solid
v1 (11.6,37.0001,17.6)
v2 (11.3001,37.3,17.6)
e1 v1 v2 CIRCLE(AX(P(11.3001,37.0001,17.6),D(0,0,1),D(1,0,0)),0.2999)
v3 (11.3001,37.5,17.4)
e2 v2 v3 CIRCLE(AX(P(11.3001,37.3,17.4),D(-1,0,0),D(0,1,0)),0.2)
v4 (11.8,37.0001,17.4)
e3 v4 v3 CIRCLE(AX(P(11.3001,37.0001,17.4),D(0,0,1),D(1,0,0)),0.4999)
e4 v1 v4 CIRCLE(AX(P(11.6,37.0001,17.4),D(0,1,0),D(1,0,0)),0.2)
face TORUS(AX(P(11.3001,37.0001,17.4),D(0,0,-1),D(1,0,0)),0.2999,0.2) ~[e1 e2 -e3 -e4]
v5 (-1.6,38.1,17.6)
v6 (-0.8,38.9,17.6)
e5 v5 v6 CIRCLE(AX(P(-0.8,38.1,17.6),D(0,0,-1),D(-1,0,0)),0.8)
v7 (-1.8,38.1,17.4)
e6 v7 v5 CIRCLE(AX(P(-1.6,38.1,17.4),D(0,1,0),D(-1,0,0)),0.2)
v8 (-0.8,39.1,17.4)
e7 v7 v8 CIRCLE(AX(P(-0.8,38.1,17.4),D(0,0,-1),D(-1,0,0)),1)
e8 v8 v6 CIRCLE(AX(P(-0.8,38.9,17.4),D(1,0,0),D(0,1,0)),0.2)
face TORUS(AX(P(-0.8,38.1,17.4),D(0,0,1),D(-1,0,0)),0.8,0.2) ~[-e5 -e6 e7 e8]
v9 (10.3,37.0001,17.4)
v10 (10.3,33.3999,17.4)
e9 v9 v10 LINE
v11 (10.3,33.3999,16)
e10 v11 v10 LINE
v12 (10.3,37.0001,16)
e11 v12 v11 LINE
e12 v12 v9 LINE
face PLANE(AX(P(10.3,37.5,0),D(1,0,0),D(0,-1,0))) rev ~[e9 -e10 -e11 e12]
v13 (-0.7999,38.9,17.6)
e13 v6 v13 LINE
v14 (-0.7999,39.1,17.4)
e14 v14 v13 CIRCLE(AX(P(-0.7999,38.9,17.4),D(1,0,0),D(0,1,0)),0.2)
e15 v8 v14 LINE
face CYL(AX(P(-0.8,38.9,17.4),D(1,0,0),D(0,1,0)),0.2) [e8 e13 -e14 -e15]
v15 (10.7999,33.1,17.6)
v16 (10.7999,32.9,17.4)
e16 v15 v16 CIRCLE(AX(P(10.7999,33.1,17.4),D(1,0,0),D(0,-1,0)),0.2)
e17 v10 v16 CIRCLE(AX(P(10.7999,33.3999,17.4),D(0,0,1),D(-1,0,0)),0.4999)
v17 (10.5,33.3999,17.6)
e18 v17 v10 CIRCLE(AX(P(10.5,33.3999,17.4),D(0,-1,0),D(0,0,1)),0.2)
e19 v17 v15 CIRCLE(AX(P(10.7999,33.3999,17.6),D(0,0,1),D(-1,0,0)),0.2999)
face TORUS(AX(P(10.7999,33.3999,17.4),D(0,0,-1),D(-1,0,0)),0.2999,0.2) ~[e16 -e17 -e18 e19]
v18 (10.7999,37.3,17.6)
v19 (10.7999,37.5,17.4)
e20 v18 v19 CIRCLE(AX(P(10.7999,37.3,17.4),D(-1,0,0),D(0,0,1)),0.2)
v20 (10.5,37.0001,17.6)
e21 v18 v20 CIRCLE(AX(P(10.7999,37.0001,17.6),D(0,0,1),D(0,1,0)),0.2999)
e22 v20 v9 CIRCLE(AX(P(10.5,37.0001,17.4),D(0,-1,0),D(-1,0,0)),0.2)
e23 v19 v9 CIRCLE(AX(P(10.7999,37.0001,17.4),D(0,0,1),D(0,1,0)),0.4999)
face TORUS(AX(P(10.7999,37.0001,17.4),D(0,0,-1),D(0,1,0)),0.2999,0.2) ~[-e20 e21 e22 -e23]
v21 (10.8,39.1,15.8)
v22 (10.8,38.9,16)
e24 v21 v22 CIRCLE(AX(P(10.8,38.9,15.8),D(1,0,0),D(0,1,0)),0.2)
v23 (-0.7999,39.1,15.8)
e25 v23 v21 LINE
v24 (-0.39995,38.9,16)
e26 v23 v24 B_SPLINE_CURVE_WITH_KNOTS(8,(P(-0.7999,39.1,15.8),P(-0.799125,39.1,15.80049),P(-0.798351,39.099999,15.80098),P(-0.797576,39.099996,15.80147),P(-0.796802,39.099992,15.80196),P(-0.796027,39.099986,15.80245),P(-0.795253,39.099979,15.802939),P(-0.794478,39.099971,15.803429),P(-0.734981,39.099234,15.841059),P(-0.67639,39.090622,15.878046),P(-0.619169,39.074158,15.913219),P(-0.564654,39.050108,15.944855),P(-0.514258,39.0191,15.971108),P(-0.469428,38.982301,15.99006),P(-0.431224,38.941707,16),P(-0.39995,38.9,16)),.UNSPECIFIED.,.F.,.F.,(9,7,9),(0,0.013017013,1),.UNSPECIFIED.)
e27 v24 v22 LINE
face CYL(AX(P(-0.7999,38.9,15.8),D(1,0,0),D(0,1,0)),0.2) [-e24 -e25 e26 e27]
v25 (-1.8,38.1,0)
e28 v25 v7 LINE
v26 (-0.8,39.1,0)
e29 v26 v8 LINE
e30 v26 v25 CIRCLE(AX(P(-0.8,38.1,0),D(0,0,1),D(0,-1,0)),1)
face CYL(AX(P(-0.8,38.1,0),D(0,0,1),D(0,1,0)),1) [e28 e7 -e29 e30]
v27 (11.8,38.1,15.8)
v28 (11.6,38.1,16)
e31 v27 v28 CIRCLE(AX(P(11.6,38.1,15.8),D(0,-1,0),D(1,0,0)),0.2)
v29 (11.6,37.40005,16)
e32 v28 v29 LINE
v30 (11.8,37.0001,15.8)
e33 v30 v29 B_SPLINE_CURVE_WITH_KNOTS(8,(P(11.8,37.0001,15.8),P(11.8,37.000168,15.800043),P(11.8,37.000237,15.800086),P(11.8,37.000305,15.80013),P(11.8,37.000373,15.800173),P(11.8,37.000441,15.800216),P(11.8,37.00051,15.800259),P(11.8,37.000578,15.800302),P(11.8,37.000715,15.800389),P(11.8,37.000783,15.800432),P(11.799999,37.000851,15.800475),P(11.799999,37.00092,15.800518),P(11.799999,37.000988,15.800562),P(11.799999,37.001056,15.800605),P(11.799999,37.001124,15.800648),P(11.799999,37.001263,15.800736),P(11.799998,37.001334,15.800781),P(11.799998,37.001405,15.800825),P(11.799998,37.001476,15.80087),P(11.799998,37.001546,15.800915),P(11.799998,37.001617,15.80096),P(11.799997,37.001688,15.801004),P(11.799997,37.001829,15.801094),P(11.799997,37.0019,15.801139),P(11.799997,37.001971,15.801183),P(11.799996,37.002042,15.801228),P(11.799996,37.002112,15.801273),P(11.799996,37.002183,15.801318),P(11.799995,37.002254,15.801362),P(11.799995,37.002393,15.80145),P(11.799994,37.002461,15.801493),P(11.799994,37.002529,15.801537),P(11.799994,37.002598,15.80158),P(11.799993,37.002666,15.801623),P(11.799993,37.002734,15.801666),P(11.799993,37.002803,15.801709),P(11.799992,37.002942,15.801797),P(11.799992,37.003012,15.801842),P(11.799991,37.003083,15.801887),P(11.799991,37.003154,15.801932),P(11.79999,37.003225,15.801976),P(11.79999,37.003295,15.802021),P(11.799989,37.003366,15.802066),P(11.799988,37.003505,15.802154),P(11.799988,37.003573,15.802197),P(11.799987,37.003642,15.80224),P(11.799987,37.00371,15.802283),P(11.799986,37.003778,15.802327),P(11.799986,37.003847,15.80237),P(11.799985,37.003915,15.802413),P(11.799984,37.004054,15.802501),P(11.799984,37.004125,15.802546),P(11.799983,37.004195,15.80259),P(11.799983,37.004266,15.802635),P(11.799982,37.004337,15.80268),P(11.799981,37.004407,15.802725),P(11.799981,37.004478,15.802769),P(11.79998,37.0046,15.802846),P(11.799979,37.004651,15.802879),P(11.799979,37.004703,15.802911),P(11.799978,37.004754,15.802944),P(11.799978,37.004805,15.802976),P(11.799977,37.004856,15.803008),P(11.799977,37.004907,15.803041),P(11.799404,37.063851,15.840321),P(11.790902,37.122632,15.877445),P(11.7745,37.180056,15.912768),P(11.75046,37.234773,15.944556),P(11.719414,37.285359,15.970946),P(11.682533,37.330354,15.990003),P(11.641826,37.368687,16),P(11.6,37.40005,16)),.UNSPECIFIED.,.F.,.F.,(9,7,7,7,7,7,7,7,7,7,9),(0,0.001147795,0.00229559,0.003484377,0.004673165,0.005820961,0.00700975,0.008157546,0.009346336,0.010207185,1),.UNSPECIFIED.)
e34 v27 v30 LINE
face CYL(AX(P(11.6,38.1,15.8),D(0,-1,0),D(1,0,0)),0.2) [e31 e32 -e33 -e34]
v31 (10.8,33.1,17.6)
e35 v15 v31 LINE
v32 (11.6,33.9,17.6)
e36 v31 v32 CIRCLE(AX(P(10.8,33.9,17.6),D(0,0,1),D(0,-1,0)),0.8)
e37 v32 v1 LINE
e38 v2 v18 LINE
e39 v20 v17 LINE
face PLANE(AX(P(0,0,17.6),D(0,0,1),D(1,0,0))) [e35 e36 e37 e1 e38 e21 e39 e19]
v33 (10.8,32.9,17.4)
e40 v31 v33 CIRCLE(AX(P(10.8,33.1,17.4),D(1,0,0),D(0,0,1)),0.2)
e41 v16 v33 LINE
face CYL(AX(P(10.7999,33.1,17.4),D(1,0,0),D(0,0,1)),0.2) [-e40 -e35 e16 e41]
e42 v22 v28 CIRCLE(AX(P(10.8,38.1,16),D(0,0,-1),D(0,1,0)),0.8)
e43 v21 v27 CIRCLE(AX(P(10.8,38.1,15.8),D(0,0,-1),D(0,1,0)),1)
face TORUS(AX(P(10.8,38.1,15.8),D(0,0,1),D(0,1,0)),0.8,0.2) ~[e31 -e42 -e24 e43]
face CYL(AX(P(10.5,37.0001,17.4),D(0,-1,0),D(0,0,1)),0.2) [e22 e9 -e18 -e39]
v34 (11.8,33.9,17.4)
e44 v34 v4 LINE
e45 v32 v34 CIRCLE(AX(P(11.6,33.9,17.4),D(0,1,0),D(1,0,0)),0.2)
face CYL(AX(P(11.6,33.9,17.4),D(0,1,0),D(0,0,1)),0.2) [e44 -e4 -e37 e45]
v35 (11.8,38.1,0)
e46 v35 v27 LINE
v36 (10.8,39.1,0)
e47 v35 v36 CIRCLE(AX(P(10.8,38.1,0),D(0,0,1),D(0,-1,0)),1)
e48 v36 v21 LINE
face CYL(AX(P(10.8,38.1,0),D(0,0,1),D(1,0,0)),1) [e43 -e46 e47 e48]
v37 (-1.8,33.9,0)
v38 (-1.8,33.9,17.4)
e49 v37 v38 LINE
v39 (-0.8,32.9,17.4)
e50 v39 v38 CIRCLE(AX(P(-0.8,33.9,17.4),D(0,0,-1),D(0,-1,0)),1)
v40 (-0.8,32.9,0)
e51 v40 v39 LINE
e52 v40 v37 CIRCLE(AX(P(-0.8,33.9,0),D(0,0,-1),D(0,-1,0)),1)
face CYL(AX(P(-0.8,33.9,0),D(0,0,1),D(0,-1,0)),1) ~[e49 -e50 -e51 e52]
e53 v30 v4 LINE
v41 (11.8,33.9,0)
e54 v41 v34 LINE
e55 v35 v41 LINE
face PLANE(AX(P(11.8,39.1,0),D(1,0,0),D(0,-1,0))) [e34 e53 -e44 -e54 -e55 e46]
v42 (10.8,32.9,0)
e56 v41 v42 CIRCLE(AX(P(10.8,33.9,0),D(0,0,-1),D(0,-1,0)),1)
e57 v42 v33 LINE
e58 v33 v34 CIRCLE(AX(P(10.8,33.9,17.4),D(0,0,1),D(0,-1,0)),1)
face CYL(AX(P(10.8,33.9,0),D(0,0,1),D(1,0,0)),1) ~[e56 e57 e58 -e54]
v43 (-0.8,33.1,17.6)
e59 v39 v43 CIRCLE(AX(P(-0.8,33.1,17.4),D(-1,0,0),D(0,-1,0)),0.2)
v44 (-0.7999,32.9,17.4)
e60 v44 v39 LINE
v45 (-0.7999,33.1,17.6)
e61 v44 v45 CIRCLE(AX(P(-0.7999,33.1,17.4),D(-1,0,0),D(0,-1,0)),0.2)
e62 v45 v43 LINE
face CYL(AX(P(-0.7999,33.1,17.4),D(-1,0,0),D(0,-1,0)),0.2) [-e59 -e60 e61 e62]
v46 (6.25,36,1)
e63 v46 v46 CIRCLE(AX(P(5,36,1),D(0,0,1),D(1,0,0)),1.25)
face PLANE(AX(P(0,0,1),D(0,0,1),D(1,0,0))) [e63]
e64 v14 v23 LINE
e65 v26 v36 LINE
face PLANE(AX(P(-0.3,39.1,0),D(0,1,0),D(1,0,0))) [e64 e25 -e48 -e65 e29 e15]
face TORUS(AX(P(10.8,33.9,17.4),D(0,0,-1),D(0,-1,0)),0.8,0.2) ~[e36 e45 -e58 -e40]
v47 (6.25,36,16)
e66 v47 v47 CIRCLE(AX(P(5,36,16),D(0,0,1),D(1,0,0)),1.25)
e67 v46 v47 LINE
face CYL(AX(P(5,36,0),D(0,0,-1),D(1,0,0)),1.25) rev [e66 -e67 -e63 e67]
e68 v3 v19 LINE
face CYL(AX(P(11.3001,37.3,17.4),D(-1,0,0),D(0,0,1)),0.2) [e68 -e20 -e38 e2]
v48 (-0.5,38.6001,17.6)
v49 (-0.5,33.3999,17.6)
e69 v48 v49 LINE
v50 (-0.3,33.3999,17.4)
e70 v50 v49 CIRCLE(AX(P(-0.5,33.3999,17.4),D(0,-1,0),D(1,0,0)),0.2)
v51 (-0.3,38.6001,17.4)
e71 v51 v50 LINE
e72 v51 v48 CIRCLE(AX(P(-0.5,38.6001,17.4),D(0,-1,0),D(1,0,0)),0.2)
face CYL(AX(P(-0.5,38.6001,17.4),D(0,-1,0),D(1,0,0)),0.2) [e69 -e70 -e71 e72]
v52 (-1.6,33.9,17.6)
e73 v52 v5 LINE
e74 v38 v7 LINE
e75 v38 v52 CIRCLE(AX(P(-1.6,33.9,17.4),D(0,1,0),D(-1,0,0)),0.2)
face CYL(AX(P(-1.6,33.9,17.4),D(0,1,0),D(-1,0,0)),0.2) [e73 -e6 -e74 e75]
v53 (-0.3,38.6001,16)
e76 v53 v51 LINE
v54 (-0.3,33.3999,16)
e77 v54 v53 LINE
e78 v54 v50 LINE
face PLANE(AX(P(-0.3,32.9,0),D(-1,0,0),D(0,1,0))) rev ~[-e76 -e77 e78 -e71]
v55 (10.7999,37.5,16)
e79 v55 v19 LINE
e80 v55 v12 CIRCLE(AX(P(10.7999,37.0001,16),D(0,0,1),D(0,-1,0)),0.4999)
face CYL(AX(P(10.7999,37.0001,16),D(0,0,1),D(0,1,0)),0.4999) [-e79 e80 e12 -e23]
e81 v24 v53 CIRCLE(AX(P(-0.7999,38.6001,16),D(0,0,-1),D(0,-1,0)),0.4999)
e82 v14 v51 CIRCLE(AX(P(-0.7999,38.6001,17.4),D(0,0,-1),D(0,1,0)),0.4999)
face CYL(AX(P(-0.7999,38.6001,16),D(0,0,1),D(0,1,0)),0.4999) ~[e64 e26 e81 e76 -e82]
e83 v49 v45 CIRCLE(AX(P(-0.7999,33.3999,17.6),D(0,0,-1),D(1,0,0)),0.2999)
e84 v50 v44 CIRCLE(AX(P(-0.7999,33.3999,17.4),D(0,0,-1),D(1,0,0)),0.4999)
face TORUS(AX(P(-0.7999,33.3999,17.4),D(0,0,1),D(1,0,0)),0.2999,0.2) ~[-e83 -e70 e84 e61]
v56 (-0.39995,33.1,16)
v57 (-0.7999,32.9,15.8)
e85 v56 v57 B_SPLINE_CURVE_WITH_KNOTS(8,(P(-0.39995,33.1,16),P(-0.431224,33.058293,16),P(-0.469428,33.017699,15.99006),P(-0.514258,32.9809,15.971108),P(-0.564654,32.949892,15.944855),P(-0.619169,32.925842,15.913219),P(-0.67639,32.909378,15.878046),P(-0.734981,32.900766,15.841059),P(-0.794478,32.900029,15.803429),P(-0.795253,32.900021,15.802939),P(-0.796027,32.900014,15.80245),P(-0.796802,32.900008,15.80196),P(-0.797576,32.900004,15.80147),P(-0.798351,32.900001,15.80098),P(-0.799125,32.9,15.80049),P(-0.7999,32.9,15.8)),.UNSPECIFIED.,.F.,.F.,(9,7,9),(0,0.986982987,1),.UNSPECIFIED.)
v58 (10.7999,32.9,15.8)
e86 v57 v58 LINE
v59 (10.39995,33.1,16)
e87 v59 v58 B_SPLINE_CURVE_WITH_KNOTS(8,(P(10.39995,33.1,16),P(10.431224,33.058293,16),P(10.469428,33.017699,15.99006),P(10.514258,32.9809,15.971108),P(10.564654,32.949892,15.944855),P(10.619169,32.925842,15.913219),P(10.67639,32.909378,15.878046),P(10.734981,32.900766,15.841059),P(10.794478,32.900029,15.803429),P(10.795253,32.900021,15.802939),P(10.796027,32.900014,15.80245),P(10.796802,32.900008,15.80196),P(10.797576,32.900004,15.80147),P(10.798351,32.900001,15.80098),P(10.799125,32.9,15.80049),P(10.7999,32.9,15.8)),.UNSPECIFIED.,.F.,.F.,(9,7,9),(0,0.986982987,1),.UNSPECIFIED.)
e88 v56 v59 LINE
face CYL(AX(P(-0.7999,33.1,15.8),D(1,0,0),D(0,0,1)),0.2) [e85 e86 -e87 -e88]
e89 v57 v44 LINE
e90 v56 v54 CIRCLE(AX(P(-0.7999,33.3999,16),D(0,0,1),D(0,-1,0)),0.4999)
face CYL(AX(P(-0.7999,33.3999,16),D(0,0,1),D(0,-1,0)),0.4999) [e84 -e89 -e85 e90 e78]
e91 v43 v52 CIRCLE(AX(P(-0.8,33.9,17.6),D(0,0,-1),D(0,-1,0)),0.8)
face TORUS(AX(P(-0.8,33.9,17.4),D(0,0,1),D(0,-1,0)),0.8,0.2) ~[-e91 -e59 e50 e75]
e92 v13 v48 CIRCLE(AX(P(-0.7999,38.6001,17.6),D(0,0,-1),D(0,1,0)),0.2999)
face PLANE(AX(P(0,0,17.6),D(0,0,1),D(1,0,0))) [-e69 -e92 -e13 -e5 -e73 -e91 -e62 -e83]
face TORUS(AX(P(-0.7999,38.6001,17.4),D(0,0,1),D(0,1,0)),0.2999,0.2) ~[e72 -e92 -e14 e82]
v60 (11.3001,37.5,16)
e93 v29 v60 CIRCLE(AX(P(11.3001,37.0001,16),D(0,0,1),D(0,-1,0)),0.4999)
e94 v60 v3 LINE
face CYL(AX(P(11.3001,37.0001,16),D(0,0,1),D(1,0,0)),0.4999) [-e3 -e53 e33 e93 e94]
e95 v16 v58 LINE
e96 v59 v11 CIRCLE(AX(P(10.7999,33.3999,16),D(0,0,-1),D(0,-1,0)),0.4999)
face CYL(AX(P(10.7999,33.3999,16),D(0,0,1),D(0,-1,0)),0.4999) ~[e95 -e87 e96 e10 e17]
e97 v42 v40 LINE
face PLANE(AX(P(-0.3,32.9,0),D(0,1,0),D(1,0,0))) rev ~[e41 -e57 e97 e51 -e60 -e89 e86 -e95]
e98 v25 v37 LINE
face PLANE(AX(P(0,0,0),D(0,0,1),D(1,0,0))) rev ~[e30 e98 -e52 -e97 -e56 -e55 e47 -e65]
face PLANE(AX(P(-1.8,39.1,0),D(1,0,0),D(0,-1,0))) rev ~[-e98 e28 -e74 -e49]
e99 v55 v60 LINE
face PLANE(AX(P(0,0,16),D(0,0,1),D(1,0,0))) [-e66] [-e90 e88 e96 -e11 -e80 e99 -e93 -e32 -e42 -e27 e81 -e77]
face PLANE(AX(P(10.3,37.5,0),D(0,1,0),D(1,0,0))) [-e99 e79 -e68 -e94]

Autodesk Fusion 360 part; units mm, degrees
ref_plane "WorkPlane1" through (0, 0, 16) normal (0, 0, 1) x (1, 0, 0) in component "PCB"
sketch "U64_KB_Ada" plane through (0, 0, 16) normal (0, 0, 1) x (1, 0, 0) in component "PCB"
  line L0 (47.6716, 39.5) -> (12, 39.5)
  line L1 (71, 2) -> (71, 54)
  arc A0 (61, 26.1716) -> (60.4142, 27.5858) centre (59, 26.1716) ccw
  arc A1 (59, 49.5) -> (61, 51.5) centre (59, 51.5) ccw
  line L2 (71, 54) -> (69, 56)
  arc A2 (12, 39.5) -> (10, 37.5) centre (12, 37.5) ccw
  line L3 (61, 2) -> (63, 0)
  line L4 (0, 33) -> (0, 47.5)
  line L5 (61, 26.1716) -> (61, 2)
  line L6 (59, 49.5) -> (2, 49.5)
  line L7 (2, 49.5) -> (0, 47.5)
  line L8 (1.5, 31) -> (0, 33)
  line L9 (69, 0) -> (71, 2)
  line L10 (63, 0) -> (69, 0)
  line L11 (61, 54) -> (61, 51.5)
  line L12 (10, 33) -> (8, 31)
  line L13 (69, 56) -> (63, 56)
  line L14 (63, 56) -> (61, 54)
  line L15 (10, 37.5) -> (10, 33)
  line L16 (49.0858, 38.9142) -> (60.4142, 27.5858)
  arc A3 (49.0858, 38.9142) -> (47.6716, 39.5) centre (47.6716, 37.5) ccw
  line L17 (8, 31) -> (1.5, 31)
  line L18 (21.59, 45.135) -> (22.225, 45.77)
  line L19 (15.875, 43.23) -> (14.605, 43.23)
  line L20 (17.145, 45.77) -> (18.415, 45.77)
  line L21 (21.59, 45.135) -> (20.955, 45.77)
  line L22 (13.97, 45.135) -> (13.335, 45.77)
  line L23 (5.715, 43.23) -> (6.35, 43.865)
  line L24 (9.525, 43.23) -> (8.89, 43.865)
  line L25 (13.204, 40.1285) -> (13.5992, 41.215)
  line L26 (9.525, 45.77) -> (10.795, 45.77)
  line L27 (21.59, 43.865) -> (21.59, 45.135)
  line L28 (20.955, 43.23) -> (21.59, 43.865)
  line L29 (11.43, 43.865) -> (10.795, 43.23)
  line L30 (6.985, 45.77) -> (8.255, 45.77)
  line L31 (6.35, 43.865) -> (6.35, 45.135)
  line L32 (13.97, 43.865) -> (13.97, 45.135)
  line L33 (11.43, 45.135) -> (12.065, 45.77)
  line L34 (12.065, 43.23) -> (11.43, 43.865)
  circle A4 centre (5, 36) radius 3.1789
  circle A5 centre (5, 36) radius 1.7463
  line L35 (13.97, 45.135) -> (14.605, 45.77)
  line L36 (4.445, 43.23) -> (3.81, 43.865)
  line L37 (16.51, 43.865) -> (15.875, 43.23)
  line L38 (16.51, 43.865) -> (16.51, 45.135)
  line L39 (20.955, 43.23) -> (19.685, 43.23)
  line L40 (8.89, 45.135) -> (9.525, 45.77)
  line L41 (12.065, 45.77) -> (13.335, 45.77)
  line L42 (19.685, 45.77) -> (20.955, 45.77)
  line L43 (19.685, 43.23) -> (19.05, 43.865)
  line L44 (10.795, 43.23) -> (9.525, 43.23)
  line L45 (27.305, 43.23) -> (26.67, 43.865)
  line L46 (19.05, 43.865) -> (19.05, 45.135)
  line L47 (23.495, 45.77) -> (24.13, 45.135)
  line L48 (14.605, 45.77) -> (15.875, 45.77)
  line L49 (8.255, 43.23) -> (6.985, 43.23)
  line L50 (15.875, 45.77) -> (16.51, 45.135)
  line L51 (17.145, 43.23) -> (16.51, 43.865)
  line L52 (11.43, 43.865) -> (11.43, 45.135)
  line L53 (8.89, 43.865) -> (8.255, 43.23)
  line L54 (19.05, 45.135) -> (19.685, 45.77)
  line L55 (28.575, 43.23) -> (27.305, 43.23)
  line L56 (6.35, 45.135) -> (6.985, 45.77)
  line L57 (18.415, 45.77) -> (19.05, 45.135)
  line L58 (14.605, 43.23) -> (13.97, 43.865)
  line L59 (24.13, 43.865) -> (23.495, 43.23)
  line L60 (6.35, 45.135) -> (5.715, 45.77)
  line L61 (19.05, 43.865) -> (18.415, 43.23)
  line L62 (5.715, 43.23) -> (4.445, 43.23)
  line L63 (8.89, 43.865) -> (8.89, 45.135)
  line L64 (22.225, 43.23) -> (21.59, 43.865)
  line L65 (6.985, 43.23) -> (6.35, 43.865)
  line L66 (10.795, 45.77) -> (11.43, 45.135)
  line L67 (22.225, 45.77) -> (23.495, 45.77)
  line L68 (4.445, 45.77) -> (5.715, 45.77)
  line L69 (3.81, 45.135) -> (4.445, 45.77)
  line L70 (23.495, 43.23) -> (22.225, 43.23)
  arc A6 (15.2146, 40.6718) -> (15.0664, 40.82) centre (15.0664, 40.6718) ccw
  line L71 (8.255, 45.77) -> (8.89, 45.135)
  line L72 (13.335, 43.23) -> (12.065, 43.23)
  line L73 (13.335, 43.23) -> (13.97, 43.865)
  line L74 (14.8195, 40.2273) -> (14.8195, 40.8199)
  line L75 (16.51, 45.135) -> (17.145, 45.77)
  line L76 (13.96, 40.3754) -> (13.96, 40.6718)
  line L77 (12.628, 40.7211) -> (12.3317, 40.7211)
  line L78 (18.415, 43.23) -> (17.145, 43.23)
  line L79 (39.37, 45.135) -> (40.005, 45.77)
  line L80 (37.465, 43.23) -> (36.83, 43.865)
  line L81 (36.83, 45.135) -> (37.465, 45.77)
  line L82 (31.75, 43.865) -> (31.115, 43.23)
  line L83 (27.305, 45.77) -> (28.575, 45.77)
  line L84 (42.545, 43.23) -> (41.91, 43.865)
  line L85 (43.815, 43.23) -> (44.45, 43.865)
  line L86 (51.435, 43.23) -> (50.165, 43.23)
  line L87 (24.765, 43.23) -> (24.13, 43.865)
  line L88 (32.385, 45.77) -> (33.655, 45.77)
  line L89 (31.115, 43.23) -> (29.845, 43.23)
  line L90 (33.655, 43.23) -> (32.385, 43.23)
  line L91 (34.925, 45.77) -> (36.195, 45.77)
  line L92 (32.385, 43.23) -> (31.75, 43.865)
  line L93 (26.035, 45.77) -> (26.67, 45.135)
  line L94 (36.83, 43.865) -> (36.83, 45.135)
  line L95 (46.99, 43.865) -> (46.355, 43.23)
  line L96 (34.925, 43.23) -> (34.29, 43.865)
  line L97 (34.29, 43.865) -> (33.655, 43.23)
  line L98 (40.005, 43.23) -> (39.37, 43.865)
  line L99 (38.735, 45.77) -> (39.37, 45.135)
  line L100 (36.195, 43.23) -> (34.925, 43.23)
  line L101 (24.13, 45.135) -> (24.765, 45.77)
  line L102 (41.91, 45.135) -> (42.545, 45.77)
  line L103 (45.085, 43.23) -> (44.45, 43.865)
  line L104 (45.085, 45.77) -> (46.355, 45.77)
  line L105 (39.37, 43.865) -> (39.37, 45.135)
  line L106 (34.29, 43.865) -> (34.29, 45.135)
  line L107 (36.83, 45.135) -> (36.195, 45.77)
  line L108 (29.21, 45.135) -> (28.575, 45.77)
  line L109 (42.545, 45.77) -> (43.815, 45.77)
  line L110 (41.275, 43.23) -> (40.005, 43.23)
  line L111 (24.13, 43.865) -> (24.13, 45.135)
  line L112 (34.29, 45.135) -> (34.925, 45.77)
  line L113 (31.75, 45.135) -> (32.385, 45.77)
  line L114 (44.45, 43.865) -> (44.45, 45.135)
  line L115 (33.655, 45.77) -> (34.29, 45.135)
  line L116 (26.035, 43.23) -> (24.765, 43.23)
  line L117 (41.275, 45.77) -> (41.91, 45.135)
  line L118 (38.735, 43.23) -> (37.465, 43.23)
  line L119 (29.21, 43.865) -> (29.21, 45.135)
  line L120 (43.815, 43.23) -> (42.545, 43.23)
  line L121 (37.465, 45.77) -> (38.735, 45.77)
  line L122 (40.005, 45.77) -> (41.275, 45.77)
  line L123 (31.75, 43.865) -> (31.75, 45.135)
  line L124 (50.165, 43.23) -> (49.53, 43.865)
  line L125 (29.21, 45.135) -> (29.845, 45.77)
  line L126 (26.67, 43.865) -> (26.035, 43.23)
  line L127 (26.67, 43.865) -> (26.67, 45.135)
  line L128 (28.575, 43.23) -> (29.21, 43.865)
  line L129 (41.91, 43.865) -> (41.275, 43.23)
  line L130 (36.195, 43.23) -> (36.83, 43.865)
  line L131 (24.765, 45.77) -> (26.035, 45.77)
  line L132 (29.845, 45.77) -> (31.115, 45.77)
  line L133 (46.355, 43.23) -> (45.085, 43.23)
  line L134 (44.45, 45.135) -> (43.815, 45.77)
  line L135 (3.81, 43.865) -> (3.81, 45.135)
  line L136 (46.355, 45.77) -> (46.99, 45.135)
  line L137 (44.45, 45.135) -> (45.085, 45.77)
  line L138 (49.53, 43.865) -> (49.53, 45.135)
  line L139 (31.115, 45.77) -> (31.75, 45.135)
  line L140 (26.67, 45.135) -> (27.305, 45.77)
  line L141 (41.91, 43.865) -> (41.91, 45.135)
  line L142 (29.845, 43.23) -> (29.21, 43.865)
  line L143 (16.0338, 40.0685) -> (16.4148, 40.0685)
  line L144 (15.5258, 40.0304) -> (15.5258, 41.8846)
  line L145 (46.99, 43.865) -> (46.99, 45.135)
  line L146 (3.81, 45.135) -> (3.175, 45.77)
  line L147 (3.175, 43.23) -> (3.81, 43.865)
  line L148 (47.625, 43.23) -> (46.99, 43.865)
  line L149 (19.812, 41.8846) -> (19.812, 40.0304)
  line L150 (16.4148, 40.0685) -> (16.4148, 40.1955)
  line L151 (51.435, 43.23) -> (52.07, 43.865)
  line L152 (39.37, 43.865) -> (38.735, 43.23)
  line L153 (48.895, 45.77) -> (49.53, 45.135)
  line L154 (16.4148, 41.8465) -> (16.0338, 41.8465)
  line L155 (23.368, 41.8846) -> (23.368, 40.0304)
  line L156 (19.812, 41.8846) -> (23.368, 41.8846)
  line L157 (16.1608, 40.0304) -> (15.5258, 40.0304)
  line L158 (16.0338, 41.7195) -> (16.4148, 41.7195)
  line L159 (46.99, 45.135) -> (47.625, 45.77)
  line L160 (49.53, 43.865) -> (48.895, 43.23)
  line L161 (49.53, 45.135) -> (50.165, 45.77)
  line L162 (19.0817, 40.0304) -> (19.0817, 41.8846)
  line L163 (47.625, 45.77) -> (48.895, 45.77)
  line L164 (16.0338, 41.8465) -> (16.0338, 41.7195)
  line L165 (15.5258, 41.8846) -> (19.0817, 41.8846)
  line L166 (52.07, 45.135) -> (52.07, 45.77)
  line L167 (48.895, 43.23) -> (47.625, 43.23)
  line L168 (1.27, 43.865) -> (1.27, 45.135)
  line L169 (19.0817, 40.0304) -> (16.1608, 40.0304)
  line L170 (16.4148, 41.7195) -> (16.4148, 41.8465)
  line L171 (23.368, 40.0304) -> (19.812, 40.0304)
  line L172 (1.905, 45.77) -> (3.175, 45.77)
  line L173 (1.27, 45.135) -> (1.905, 45.77)
  line L174 (52.07, 43.865) -> (52.07, 45.135)
  line L175 (16.4148, 40.1955) -> (16.0338, 40.1955)
  line L176 (50.165, 45.77) -> (52.07, 45.77)
  line L177 (1.905, 43.23) -> (1.27, 43.865)
  line L178 (3.175, 43.23) -> (1.905, 43.23)
  line L179 (16.0338, 40.1955) -> (16.0338, 40.0685)
  line L180 (36.7207, 46.8778) -> (36.7207, 47.3153)
  line L181 (32.2069, 46.6153) -> (32.2069, 47.6652)
  arc A7 (30.8, 46.9653) -> (31.5, 46.9653) centre (31.15, 46.9653) ccw
  line L182 (32.2069, 47.6652) -> (32.6443, 47.6652)
  line L183 (32.9068, 47.4028) -> (32.9068, 46.6153)
  line L184 (37.4206, 46.6153) -> (36.9832, 46.6153)
  arc A8 (32.9068, 47.4028) -> (32.6443, 47.6653) centre (32.6443, 47.4028) ccw
  line L185 (35.1853, 46.6153) -> (35.1853, 48.1902)
  arc A9 (31.5, 47.3153) -> (30.8, 47.3153) centre (31.15, 47.3153) ccw
  line L186 (31.5, 47.3153) -> (31.5, 46.9653)
  line L187 (36.0602, 46.6153) -> (35.7103, 47.3153)
  arc A10 (36.7207, 46.8778) -> (36.9832, 46.6153) centre (36.9832, 46.8778) ccw
  line L188 (68.0149, 5.0229) -> (69.1522, 5.0229)
  line L189 (68.0149, 7.4951) -> (69.3272, 7.4951)
  line L190 (48.26, 47.1487) -> (49.0538, 47.9425)
  arc A11 (68.9772, 11.2434) -> (69.5896, 11.2434) centre (69.2834, 11.2434) ccw
  line L191 (32.8769, 40.5342) -> (33.0518, 40.5342)
  arc A12 (68.8022, 10.2057) -> (68.5397, 9.9432) centre (68.8022, 9.9432) ccw
  line L192 (32.2742, 41.584) -> (31.5743, 41.584)
  line L193 (68.9772, 11.6371) -> (68.9772, 11.2434)
  line L194 (30.9802, 42.6339) -> (30.1054, 41.6715)
  arc A13 (37.6321, 41.8465) -> (37.3696, 42.109) centre (37.3696, 41.8465) ccw
  line L195 (49.0538, 47.9425) -> (51.5938, 47.9425)
  arc A14 (68.8897, 14.0427) -> (68.8897, 13.3427) centre (68.8897, 13.6927) ccw
  arc A15 (37.2384, 41.6715) -> (37.2384, 41.0591) centre (37.2384, 41.3653) ccw
  line L196 (68.0149, 8.474) -> (68.1023, 8.474)
  line L197 (39.4332, 41.3216) -> (39.4332, 41.8465)
  line L198 (68.5398, 12.2179) -> (68.5398, 12.7428)
  arc A16 (34.6778, 41.0591) -> (34.9403, 41.3216) centre (34.6778, 41.3216) ccw
  line L199 (37.6321, 41.6715) -> (37.2384, 41.6715)
  line L200 (30.9802, 41.0591) -> (30.4553, 42.0215)
  line L201 (40.1331, 41.0591) -> (39.6956, 41.0591)
  line L202 (35.1853, 48.1902) -> (35.6228, 48.1902)
  line L203 (37.6321, 41.0591) -> (37.6321, 41.8465)
  line L204 (69.5897, 11.2434) -> (69.5897, 11.6371)
  line L205 (34.2404, 42.6339) -> (34.2404, 41.0591)
  line L206 (69.0647, 14.0427) -> (69.0647, 13.3428)
  line L207 (38.4101, 42.109) -> (38.935, 42.109)
  line L208 (31.5743, 41.3216) -> (31.5743, 41.759)
  arc A17 (32.2742, 41.759) -> (31.5742, 41.759) centre (31.9242, 41.759) ccw
  arc A18 (35.6228, 47.3153) -> (35.6228, 48.1901) centre (35.6228, 47.7527) ccw
  arc A19 (31.5742, 41.3216) -> (31.8367, 41.0591) centre (31.8367, 41.3216) ccw
  line L209 (32.8769, 42.109) -> (33.2268, 41.0591)
  line L210 (68.8897, 14.0427) -> (69.0647, 14.0427)
  line L211 (39.6956, 42.109) -> (40.1331, 42.109)
  arc A20 (69.3272, 13.3427) -> (69.5897, 13.6052) centre (69.3272, 13.6052) ccw
  line L212 (32.2742, 41.759) -> (32.2742, 41.584)
  arc A21 (39.4331, 41.3216) -> (39.6956, 41.0591) centre (39.6956, 41.3216) ccw
  line L213 (68.7148, 15.5479) -> (68.7148, 16.0728)
  arc A22 (69.0647, 16.4228) -> (68.7147, 16.0728) centre (69.0647, 16.0728) ccw
  line L214 (30.1054, 41.0591) -> (30.1054, 42.6339)
  line L215 (35.5863, 41.4091) -> (35.5863, 41.759)
  line L216 (48.26, 46.1962) -> (47.7838, 46.6725)
  line L217 (69.5897, 14.0427) -> (69.5897, 13.6052)
  line L218 (35.6228, 47.3153) -> (35.1853, 47.3153)
  line L219 (69.5897, 12.6553) -> (69.5897, 12.7428)
  line L220 (68.5398, 9.1558) -> (68.5398, 9.9432)
  line L221 (32.2742, 41.0591) -> (31.8367, 41.0591)
  arc A23 (68.8023, 11.6371) -> (68.5398, 11.3746) centre (68.8023, 11.3746) ccw
  line L222 (69.5897, 11.6371) -> (68.8023, 11.6371)
  line L223 (68.8023, 10.2057) -> (69.5897, 10.2057)
  line L224 (48.26, 46.1962) -> (48.26, 47.1487)
  line L225 (69.5897, 9.6807) -> (68.5398, 9.6807)
  line L226 (69.5897, 8.4302) -> (68.5398, 8.4302)
  line L227 (68.1023, 8.3865) -> (68.0149, 8.3865)
  line L228 (48.26, 46.1962) -> (48.7363, 46.6725)
  line L229 (11.7091, 46.6153) -> (11.1842, 47.5777)
  line L230 (68.0149, 12.3929) -> (69.3272, 12.3929)
  arc A24 (69.3272, 7.4951) -> (69.5897, 7.7576) centre (69.3272, 7.7576) ccw
  line L231 (36.2862, 41.759) -> (36.2862, 41.4091)
  line L232 (33.0518, 40.5342) -> (33.5768, 42.109)
  arc A25 (36.2862, 41.759) -> (35.5862, 41.759) centre (35.9362, 41.759) ccw
  line L233 (57.4631, 48.7377) -> (57.4631, 48.8252)
  line L234 (69.1522, 5.8977) -> (68.0149, 5.8977)
  arc A26 (56.4901, 47.9503) -> (56.4901, 48.8251) centre (56.4901, 48.3877) ccw
  arc A27 (58.8989, 48.0378) -> (58.6364, 48.3003) centre (58.6364, 48.0378) ccw
  line L235 (6.7968, 47.0528) -> (6.7968, 47.4902)
  line L236 (8.9724, 47.3153) -> (8.9724, 46.6153)
  arc A28 (12.3031, 46.8778) -> (12.5656, 46.6153) centre (12.5656, 46.8778) ccw
  line L237 (6.7968, 47.4902) -> (7.3218, 47.4902)
  line L238 (69.5897, 7.7576) -> (69.5897, 7.845)
  line L239 (68.0149, 8.3865) -> (68.0149, 8.474)
  line L240 (40.1331, 42.6339) -> (40.1331, 41.0591)
  line L241 (38.4101, 41.0591) -> (38.4101, 42.109)
  line L242 (68.0149, 6.6393) -> (69.3272, 6.6393)
  line L243 (8.36, 46.9653) -> (9.2348, 46.9653)
  line L244 (54.47, 47.9503) -> (54.47, 47.6003)
  arc A29 (34.9403, 41.8465) -> (34.6778, 42.109) centre (34.6778, 41.8465) ccw
  line L245 (56.4901, 47.9503) -> (56.0527, 47.9503)
  line L246 (13.0031, 46.6153) -> (12.5656, 46.6153)
  line L247 (53.0465, 47.2504) -> (53.0465, 48.8252)
  line L248 (12.3031, 46.8778) -> (12.3031, 47.3153)
  line L249 (34.9403, 41.3216) -> (34.9403, 41.8465)
  line L250 (69.1522, 15.5479) -> (68.7148, 15.5479)
  arc A30 (35.5862, 41.4091) -> (36.2862, 41.4091) centre (35.9362, 41.4091) ccw
  line L251 (56.0527, 48.8252) -> (56.4901, 48.8252)
  line L252 (68.1023, 8.474) -> (68.1023, 8.3865)
  arc A31 (69.1522, 5.0229) -> (69.1522, 5.8977) centre (69.1522, 5.4603) ccw
  arc A32 (13.0031, 47.3153) -> (12.3031, 47.3153) centre (12.6531, 47.3153) ccw
  arc A33 (69.3272, 6.6392) -> (69.5897, 6.9017) centre (69.3272, 6.9017) ccw
  line L253 (38.935, 42.109) -> (38.935, 41.934)
  arc A34 (39.6956, 42.109) -> (39.4331, 41.8465) centre (39.6956, 41.8465) ccw
  line L254 (69.5897, 9.1558) -> (68.5398, 9.1558)
  line L255 (11.7091, 48.1902) -> (10.8342, 47.2278)
  line L256 (63.1254, 4.1839) -> (63.5628, 4.5339)
  line L257 (68.5398, 11.3746) -> (68.5398, 11.0247)
  arc A35 (69.3272, 12.3928) -> (69.5897, 12.6553) centre (69.3272, 12.6553) ccw
  line L258 (37.2384, 41.0591) -> (37.6321, 41.0591)
  line L259 (34.2404, 41.0591) -> (34.6778, 41.0591)
  line L260 (69.3272, 13.3428) -> (68.8897, 13.3428)
  line L261 (6.0565, 47.0528) -> (6.0565, 48.1902)
  line L262 (7.6717, 47.1403) -> (7.6717, 47.0528)
  line L263 (52.1716, 47.2504) -> (52.1716, 48.8252)
  arc A36 (5.1816, 47.0528) -> (6.0564, 47.0528) centre (5.619, 47.0528) ccw
  line L264 (68.5398, 7.3201) -> (68.5398, 7.845)
  line L265 (15.4067, 47.6652) -> (14.9693, 47.6652)
  line L266 (13.0031, 47.1403) -> (12.3031, 47.1403)
  line L267 (37.3696, 42.109) -> (37.0197, 42.109)
  arc A37 (54.4701, 47.9503) -> (53.7701, 47.9503) centre (54.1201, 47.9503) ccw
  line L268 (58.199, 48.3002) -> (58.6364, 48.3002)
  line L269 (34.6778, 42.109) -> (34.2404, 42.109)
  line L270 (57.5068, 47.2504) -> (57.5068, 48.3002)
  line L271 (52.9654, 43.9166) -> (53.8402, 43.9166)
  line L272 (27.4133, 47.6652) -> (27.8508, 47.6652)
  line L273 (8.7099, 48.1902) -> (8.36, 46.9653)
  line L274 (13.6057, 46.0904) -> (13.7807, 46.0904)
  arc A38 (7.4967, 48.1901) -> (6.7968, 47.4902) centre (7.4967, 47.4902) ccw
  line L275 (15.6692, 46.8778) -> (15.6692, 47.4028)
  line L276 (5.1816, 48.1902) -> (5.1816, 47.0528)
  arc A39 (17.0151, 47.3153) -> (16.3151, 47.3153) centre (16.6651, 47.3153) ccw
  arc A40 (53.7701, 47.6003) -> (54.4701, 47.6003) centre (54.1201, 47.6003) ccw
  line L277 (20.862, 46.6153) -> (20.4245, 46.6153)
  arc A41 (69.1522, 15.5479) -> (69.1522, 16.4227) centre (69.1522, 15.9853) ccw
  line L278 (30.1163, 48.1027) -> (30.1163, 48.1902)
  line L279 (13.0031, 47.3153) -> (13.0031, 47.1403)
  line L280 (26.0065, 46.8778) -> (26.0065, 47.3153)
  line L281 (30.1163, 48.1902) -> (30.2038, 48.1902)
  line L282 (19.139, 47.6652) -> (19.6639, 47.6652)
  line L283 (52.1716, 48.8252) -> (53.0465, 47.2504)
  arc A42 (68.0149, 16.2478) -> (68.7148, 15.5479) centre (68.7148, 16.2478) ccw
  arc A43 (15.6692, 47.4028) -> (15.4067, 47.6653) centre (15.4067, 47.4028) ccw
  arc A44 (17.9673, 47.2278) -> (17.9673, 46.6154) centre (17.9673, 46.9216) ccw
  line L284 (22.4837, 47.4902) -> (23.0087, 47.4902)
  line L285 (53.4028, 45.4914) -> (53.4028, 43.9166)
  arc A45 (29.4325, 47.5777) -> (29.0388, 47.6652) centre (29.0246, 46.6717) ccw
  line L286 (52.9654, 45.1414) -> (53.4028, 45.4914)
  line L287 (26.7064, 47.1403) -> (26.0065, 47.1403)
  arc A46 (28.1133, 47.4028) -> (27.8508, 47.6653) centre (27.8508, 47.4028) ccw
  arc A47 (7.6718, 47.1403) -> (7.3218, 47.4903) centre (7.3218, 47.1403) ccw
  arc A48 (15.4067, 46.6153) -> (15.6692, 46.8778) centre (15.4067, 46.8778) ccw
  arc A49 (28.8201, 46.7028) -> (29.3013, 46.6154) centre (29.3225, 48.0991) ccw
  arc A50 (18.361, 47.4028) -> (18.0985, 47.6653) centre (18.0985, 47.4028) ccw
  line L288 (57.5506, 48.8252) -> (57.5506, 48.7377)
  arc A51 (25.0566, 46.8778) -> (25.3191, 46.6153) centre (25.3191, 46.8778) ccw
  line L289 (18.361, 47.2278) -> (17.9673, 47.2278)
  line L290 (25.3191, 46.6153) -> (25.4066, 46.6153)
  line L291 (10.8342, 46.6153) -> (10.8342, 48.1902)
  line L292 (30.2038, 48.1902) -> (30.2038, 48.1027)
  line L293 (16.3152, 46.9653) -> (16.3152, 47.3153)
  line L294 (30.2038, 48.1027) -> (30.1163, 48.1027)
  line L295 (30.8001, 46.9653) -> (30.8001, 47.3153)
  line L296 (22.4837, 48.1902) -> (23.1837, 48.1902)
  line L297 (58.8989, 48.0378) -> (58.8989, 47.2504)
  line L298 (13.6057, 47.6652) -> (13.9557, 46.6153)
  line L299 (63.5628, 4.5339) -> (63.5628, 2.9591)
  line L300 (18.361, 46.6153) -> (18.361, 47.4028)
  line L301 (57.4631, 48.8252) -> (57.5506, 48.8252)
  line L302 (68.0149, 17.4609) -> (69.2397, 17.111)
  line L303 (56.0527, 47.2504) -> (56.0527, 48.8252)
  line L304 (69.0647, 16.4228) -> (69.1522, 16.4228)
  line L305 (14.9693, 46.6153) -> (15.4067, 46.6153)
  line L306 (53.7701, 47.6003) -> (53.7701, 47.9503)
  line L307 (13.7807, 46.0904) -> (14.3057, 47.6652)
  arc A52 (26.7065, 47.3153) -> (26.0065, 47.3153) centre (26.3565, 47.3153) ccw
  line L308 (30.1601, 46.6153) -> (30.1601, 47.6652)
  line L309 (23.1837, 46.6153) -> (22.4837, 46.6153)
  arc A53 (20.162, 46.8778) -> (20.4245, 46.6153) centre (20.4245, 46.8778) ccw
  line L310 (14.9693, 48.1902) -> (14.9693, 46.6153)
  line L311 (63.1254, 2.9591) -> (64.0002, 2.9591)
  line L312 (69.2397, 17.111) -> (69.2397, 17.9859)
  line L313 (20.162, 46.8778) -> (20.162, 47.4028)
  arc A54 (6.7969, 47.0528) -> (7.6717, 47.0528) centre (7.2343, 47.0528) ccw
  line L314 (58.199, 47.2504) -> (58.199, 48.3002)
  line L315 (68.8897, 17.7234) -> (69.5897, 17.7234)
  line L316 (17.0151, 47.3153) -> (17.0151, 46.9653)
  line L317 (57.5506, 48.7377) -> (57.4631, 48.7377)
  arc A55 (11.4914, 40.3507) -> (11.6642, 40.2273) centre (11.6642, 40.41) ccw
  arc A56 (11.837, 40.9927) -> (11.6642, 41.1162) centre (11.6642, 40.9335) ccw
  line L318 (40.8891, 46.9653) -> (41.589, 47.8402)
  arc A57 (10.5522, 40.9187) -> (10.9474, 40.9187) centre (10.7498, 40.9187) ccw
  line L319 (29.3888, 47.0528) -> (28.9514, 47.2278)
  line L320 (22.4837, 46.6153) -> (22.4837, 48.1902)
  arc A58 (25.9658, 40.9927) -> (25.793, 41.1162) centre (25.793, 40.9335) ccw
  line L321 (26.7064, 46.6153) -> (26.269, 46.6153)
  line L322 (39.3549, 46.7028) -> (39.3549, 46.6153)
  arc A59 (9.6626, 40.9928) -> (9.5885, 40.6718) centre (10.3211, 40.6718) ccw
  arc A60 (40.8015, 47.4028) -> (40.9327, 46.8341) centre (42.0993, 47.4028) ccw
  arc A61 (23.9642, 40.2273) -> (23.9642, 40.7211) centre (23.9642, 40.4742) ccw
  line L323 (39.2674, 46.6153) -> (39.2674, 46.7028)
  line L324 (26.4985, 40.2273) -> (26.4985, 41.1163)
  arc A62 (10.9967, 40.4742) -> (10.5029, 40.4742) centre (10.7498, 40.4742) ccw
  line L325 (25.0566, 48.1902) -> (25.0566, 46.8778)
  line L326 (23.7139, 47.6652) -> (24.4138, 46.6153)
  arc A63 (16.3151, 46.9653) -> (17.0151, 46.9653) centre (16.6651, 46.9653) ccw
  line L327 (38.3733, 46.6153) -> (38.7232, 47.6652)
  line L328 (24.8816, 47.6652) -> (25.4066, 47.6652)
  line L329 (26.7454, 40.6224) -> (26.4985, 40.6224)
  line L330 (20.4245, 47.6652) -> (20.862, 47.6652)
  arc A64 (9.8354, 41.1162) -> (9.6626, 40.9928) centre (9.8354, 40.9335) ccw
  line L331 (19.139, 46.6153) -> (19.139, 47.6652)
  arc A65 (29.3014, 46.6154) -> (29.3888, 47.0528) centre (29.3046, 46.8422) ccw
  arc A66 (26.0065, 46.8778) -> (26.269, 46.6153) centre (26.269, 46.8778) ccw
  line L332 (26.7064, 47.3153) -> (26.7064, 47.1403)
  arc A67 (25.793, 41.1162) -> (25.6202, 40.9928) centre (25.793, 40.9335) ccw
  arc A68 (41.239, 46.6154) -> (41.5452, 46.8341) centre (41.239, 46.9391) ccw
  arc A69 (10.0082, 40.9927) -> (9.8354, 41.1162) centre (9.8354, 40.9335) ccw
  arc A70 (24.928, 40.7211) -> (24.928, 41.1163) centre (24.928, 40.9187) ccw
  arc A71 (24.8786, 40.2273) -> (24.8786, 40.7211) centre (24.8786, 40.4742) ccw
  line L333 (26.4985, 41.1163) -> (26.7454, 41.1163)
  line L334 (9.6379, 40.4248) -> (10.033, 40.9187)
  line L335 (26.9924, 40.2273) -> (26.7948, 40.6224)
  arc A72 (9.6626, 40.3507) -> (9.8354, 40.2273) centre (9.8354, 40.41) ccw
  line L336 (20.862, 48.1902) -> (20.862, 46.6153)
  line L337 (18.0985, 47.6652) -> (17.7485, 47.6652)
  arc A73 (29.0388, 47.6652) -> (28.9514, 47.2278) centre (29.0356, 47.4384) ccw
  line L338 (24.928, 40.7211) -> (24.7304, 40.7211)
  arc A74 (11.9112, 40.6718) -> (11.8371, 40.9928) centre (11.1786, 40.6718) ccw
  line L339 (23.7172, 40.2273) -> (23.9642, 40.2273)
  line L340 (37.4206, 47.1403) -> (36.7207, 47.1403)
  line L341 (27.4133, 46.6153) -> (27.4133, 47.6652)
  line L342 (39.3549, 46.6153) -> (39.2674, 46.6153)
  line L343 (17.9673, 46.6153) -> (18.361, 46.6153)
  line L344 (28.1132, 47.4028) -> (28.1132, 46.6153)
  arc A75 (24.0136, 40.7211) -> (24.0136, 41.1163) centre (24.0136, 40.9187) ccw
  arc A76 (41.5452, 47.9714) -> (41.239, 48.1901) centre (41.239, 47.8664) ccw
  arc A77 (20.4245, 47.6653) -> (20.162, 47.4028) centre (20.4245, 47.4028) ccw
  line L345 (24.6317, 40.2273) -> (24.8786, 40.2273)
  line L346 (23.7172, 41.1163) -> (24.0136, 41.1163)
  arc A78 (11.4914, 40.9928) -> (11.4173, 40.6718) centre (12.1499, 40.6718) ccw
  arc A79 (25.5461, 40.6718) -> (25.6202, 40.3508) centre (26.2787, 40.6718) ccw
  arc A80 (10.5029, 40.4742) -> (10.9967, 40.4742) centre (10.7498, 40.4742) ccw
  arc A81 (11.6642, 41.1162) -> (11.4914, 40.9928) centre (11.6642, 40.9335) ccw
  line L347 (24.0136, 40.7211) -> (23.816, 40.7211)
  arc A82 (11.8371, 40.3508) -> (11.9112, 40.6718) centre (11.1786, 40.6718) ccw
  arc A83 (25.6202, 40.3507) -> (25.793, 40.2273) centre (25.793, 40.41) ccw
  arc A84 (25.9658, 40.3508) -> (26.0399, 40.6718) centre (25.3073, 40.6718) ccw
  line L348 (23.7139, 46.6153) -> (24.4138, 47.6652)
  arc A85 (11.4173, 40.6718) -> (11.4914, 40.3508) centre (12.1499, 40.6718) ccw
  line L349 (19.6639, 47.6652) -> (19.6639, 47.4902)
  arc A86 (25.793, 40.2273) -> (25.9658, 40.3507) centre (25.793, 40.41) ccw
  arc A87 (12.628, 40.2272) -> (12.8256, 40.4248) centre (12.628, 40.4248) ccw
  line L350 (12.3317, 40.7211) -> (12.3317, 41.1163)
  line L351 (14.8273, 42.6367) -> (15.4199, 42.6367)
  arc A88 (13.96, 40.3754) -> (14.1082, 40.2272) centre (14.1082, 40.3754) ccw
  line L352 (19.4098, 42.3404) -> (19.4098, 42.9331)
  arc A89 (9.5885, 40.6718) -> (9.6626, 40.3508) centre (10.3211, 40.6718) ccw
  line L353 (19.1135, 42.6367) -> (19.7062, 42.6367)
  line L354 (14.3551, 40.8199) -> (14.3551, 40.0791)
  line L355 (14.207, 39.9309) -> (14.0094, 39.9309)
  line L356 (39.2674, 46.7028) -> (39.3549, 46.7028)
  line L357 (25.5954, 40.4248) -> (25.9906, 40.9187)
  arc A90 (26.7454, 40.6224) -> (26.7454, 41.1162) centre (26.7454, 40.8693) ccw
  line L358 (38.0233, 47.6652) -> (38.3733, 46.6153)
  arc A91 (41.239, 48.1901) -> (40.9328, 47.9714) centre (41.239, 47.8664) ccw
  arc A92 (41.6764, 47.4028) -> (41.5452, 47.9715) centre (40.3787, 47.4028) ccw
  arc A93 (9.8354, 40.2273) -> (10.0082, 40.3507) centre (9.8354, 40.41) ccw
  line L359 (11.4667, 40.4248) -> (11.8618, 40.9187)
  line L360 (12.8256, 40.4248) -> (12.8256, 40.5236)
  arc A94 (41.5453, 46.8341) -> (41.6765, 47.4028) centre (40.3787, 47.4028) ccw
  arc A95 (11.6642, 40.2273) -> (11.837, 40.3507) centre (11.6642, 40.41) ccw
  line L361 (37.4206, 47.3153) -> (37.4206, 47.1403)
  arc A96 (14.1082, 40.82) -> (13.96, 40.6718) centre (14.1082, 40.6718) ccw
  arc A97 (14.2069, 39.9309) -> (14.3551, 40.0791) centre (14.2069, 40.0791) ccw
  line L362 (15.2146, 40.6718) -> (15.2146, 40.2273)
  line L363 (14.1082, 40.8199) -> (14.3551, 40.8199)
  arc A98 (40.9328, 46.8341) -> (41.239, 46.6154) centre (41.239, 46.9391) ccw
  line L364 (12.3317, 40.2273) -> (12.628, 40.2273)
  arc A99 (37.4207, 47.3153) -> (36.7207, 47.3153) centre (37.0707, 47.3153) ccw
  arc A100 (12.8256, 40.5236) -> (12.628, 40.7212) centre (12.628, 40.5236) ccw
  arc A101 (10.0083, 40.3508) -> (10.0824, 40.6718) centre (9.3498, 40.6718) ccw
  arc A102 (40.9327, 47.9715) -> (40.8015, 47.4028) centre (42.0993, 47.4028) ccw
  line L365 (12.3317, 41.1163) -> (12.8256, 41.1163)
  line L366 (24.6317, 41.1163) -> (24.928, 41.1163)
  arc A103 (26.04, 40.6718) -> (25.9659, 40.9928) centre (25.3074, 40.6718) ccw
  arc A104 (10.0824, 40.6718) -> (10.0083, 40.9928) centre (9.3498, 40.6718) ccw
  arc A105 (25.6202, 40.9928) -> (25.5461, 40.6718) centre (26.2787, 40.6718) ccw
  arc A106 (10.9474, 40.9187) -> (10.5522, 40.9187) centre (10.7498, 40.9187) ccw
  line L367 (14.3551, 40.2273) -> (14.1082, 40.2273)
  line L368 (14.8195, 40.8199) -> (15.0664, 40.8199)
  line L369 (38.354, 44.754) -> (37.846, 44.754)
  line L370 (12.446, 44.246) -> (12.954, 44.246)
  line L371 (5.334, 44.754) -> (4.826, 44.754)
  line L372 (9.906, 44.246) -> (10.414, 44.246)
  line L373 (9.906, 44.754) -> (9.906, 44.246)
  line L374 (4.826, 44.246) -> (5.334, 44.246)
  line L375 (15.494, 44.754) -> (14.986, 44.754)
  line L376 (7.366, 44.754) -> (7.366, 44.246)
  line L377 (7.874, 44.754) -> (7.366, 44.754)
  line L378 (22.606, 44.754) -> (22.606, 44.246)
  line L379 (7.874, 44.246) -> (7.874, 44.754)
  line L380 (12.954, 44.754) -> (12.446, 44.754)
  line L381 (17.526, 44.754) -> (17.526, 44.246)
  line L382 (17.526, 44.246) -> (18.034, 44.246)
  line L383 (12.954, 44.246) -> (12.954, 44.754)
  line L384 (23.114, 44.246) -> (23.114, 44.754)
  line L385 (7.366, 44.246) -> (7.874, 44.246)
  line L386 (15.494, 44.246) -> (15.494, 44.754)
  line L387 (20.574, 44.246) -> (20.574, 44.754)
  line L388 (5.334, 44.246) -> (5.334, 44.754)
  line L389 (18.034, 44.754) -> (17.526, 44.754)
  line L390 (25.146, 44.754) -> (25.146, 44.246)
  line L391 (25.146, 44.246) -> (25.654, 44.246)
  line L392 (22.606, 44.246) -> (23.114, 44.246)
  line L393 (20.574, 44.754) -> (20.066, 44.754)
  line L394 (14.986, 44.246) -> (15.494, 44.246)
  line L395 (25.654, 44.246) -> (25.654, 44.754)
  line L396 (4.826, 44.754) -> (4.826, 44.246)
  line L397 (20.066, 44.246) -> (20.574, 44.246)
  line L398 (10.414, 44.246) -> (10.414, 44.754)
  line L399 (14.986, 44.754) -> (14.986, 44.246)
  line L400 (25.654, 44.754) -> (25.146, 44.754)
  line L401 (12.446, 44.754) -> (12.446, 44.246)
  line L402 (10.414, 44.754) -> (9.906, 44.754)
  line L403 (20.066, 44.754) -> (20.066, 44.246)
  line L404 (18.034, 44.246) -> (18.034, 44.754)
  line L405 (23.114, 44.754) -> (22.606, 44.754)
  line L406 (2.794, 44.754) -> (2.286, 44.754)
  line L407 (2.286, 44.246) -> (2.794, 44.246)
  line L408 (33.274, 44.246) -> (33.274, 44.754)
  line L409 (28.194, 44.754) -> (27.686, 44.754)
  line L410 (43.434, 44.246) -> (43.434, 44.754)
  line L411 (45.466, 44.754) -> (45.466, 44.246)
  line L412 (45.974, 44.754) -> (45.466, 44.754)
  line L413 (38.354, 44.246) -> (38.354, 44.754)
  line L414 (2.794, 44.246) -> (2.794, 44.754)
  line L415 (48.514, 44.754) -> (48.006, 44.754)
  line L416 (48.006, 44.246) -> (48.514, 44.246)
  line L417 (28.194, 44.246) -> (28.194, 44.754)
  line L418 (35.814, 44.754) -> (35.306, 44.754)
  line L419 (43.434, 44.754) -> (42.926, 44.754)
  line L420 (27.686, 44.754) -> (27.686, 44.246)
  line L421 (33.274, 44.754) -> (32.766, 44.754)
  line L422 (40.894, 44.246) -> (40.894, 44.754)
  line L423 (37.846, 44.754) -> (37.846, 44.246)
  line L424 (27.686, 44.246) -> (28.194, 44.246)
  line L425 (42.926, 44.246) -> (43.434, 44.246)
  line L426 (50.546, 44.246) -> (51.054, 44.246)
  line L427 (40.386, 44.246) -> (40.894, 44.246)
  line L428 (2.286, 44.754) -> (2.286, 44.246)
  line L429 (30.734, 44.754) -> (30.226, 44.754)
  line L430 (32.766, 44.246) -> (33.274, 44.246)
  line L431 (37.846, 44.246) -> (38.354, 44.246)
  line L432 (35.814, 44.246) -> (35.814, 44.754)
  line L433 (50.546, 44.754) -> (50.546, 44.246)
  line L434 (45.974, 44.246) -> (45.974, 44.754)
  line L435 (51.054, 44.246) -> (51.054, 44.754)
  line L436 (48.006, 44.754) -> (48.006, 44.246)
  line L437 (30.734, 44.246) -> (30.734, 44.754)
  line L438 (30.226, 44.754) -> (30.226, 44.246)
  line L439 (32.766, 44.754) -> (32.766, 44.246)
  line L440 (40.894, 44.754) -> (40.386, 44.754)
  line L441 (42.926, 44.754) -> (42.926, 44.246)
  line L442 (35.306, 44.754) -> (35.306, 44.246)
  line L443 (51.054, 44.754) -> (50.546, 44.754)
  line L444 (16.4148, 41.7195) -> (16.0338, 41.7195)
  line L445 (45.466, 44.246) -> (45.974, 44.246)
  line L446 (48.514, 44.246) -> (48.514, 44.754)
  line L447 (16.0338, 40.1955) -> (16.4148, 40.1955)
  line L448 (16.4148, 40.1955) -> (16.4148, 41.7195)
  line L449 (35.306, 44.246) -> (35.814, 44.246)
  line L450 (40.386, 44.754) -> (40.386, 44.246)
  line L451 (30.226, 44.246) -> (30.734, 44.246)
  line L452 (16.0338, 41.7195) -> (16.0338, 40.1955)
  line L453 (26.7889, 42.6204) -> (26.7889, 41.7116)
  line L454 (17.129, 42.0243) -> (17.129, 42.9387)
  arc A107 (27.6733, 42.6204) -> (27.3163, 42.3607) centre (27.6733, 42.2451) ccw
  arc A108 (27.8681, 42.1011) -> (27.9655, 42.3283) centre (27.6517, 42.3283) ccw
  arc A109 (26.5293, 41.452) -> (26.7889, 41.7116) centre (26.5293, 41.7116) ccw
  line L455 (26.5293, 41.452) -> (26.3995, 41.452)
  line L456 (27.868, 42.1011) -> (27.3163, 41.452)
  line L457 (27.3163, 41.452) -> (27.9654, 41.452)
  arc A110 (27.9654, 42.3283) -> (27.6733, 42.6204) centre (27.6733, 42.3283) ccw
  line L458 (17.637, 42.6847) -> (17.637, 42.2783)
  arc A111 (17.383, 42.0243) -> (17.637, 42.2783) centre (17.383, 42.2783) ccw
  line L459 (22.0088, 42.0243) -> (22.5168, 42.0243)
  line L460 (22.0088, 42.7355) -> (22.2628, 42.9387)
  line L461 (18.0739, 42.7355) -> (18.3279, 42.9387)
  line L462 (17.129, 42.9387) -> (17.383, 42.9387)
  line L463 (21.609, 42.0243) -> (21.4059, 42.4307)
  line L464 (22.2628, 42.9387) -> (22.2628, 42.0243)
  line L465 (21.3551, 42.4307) -> (21.1011, 42.4307)
  line L466 (18.3279, 42.9387) -> (18.3279, 42.0243)
  arc A112 (17.637, 42.6847) -> (17.383, 42.9387) centre (17.383, 42.6847) ccw
  line L467 (18.0739, 42.0243) -> (18.5819, 42.0243)
  line L468 (21.1011, 42.9387) -> (21.3551, 42.9387)
  line L469 (21.1011, 42.0243) -> (21.1011, 42.9387)
  line L470 (16.3386, 42.9387) -> (16.3386, 42.0243)
  arc A113 (21.3551, 42.4307) -> (21.3551, 42.9387) centre (21.3551, 42.6847) ccw
  line L471 (16.3386, 42.0243) -> (16.7449, 42.0243)
  line L472 (17.383, 42.0243) -> (17.129, 42.0243)
sketch "base" plane through (0, 0, 0) normal (0, 0, 1) x (1, 0, 0) in component "U64_KeybExt_StandOff"
  circle A0 centre (5, 36) radius 1.7463 construction
  line L0 (0, 33) -> (0, 47.5) construction
  line L1 (1.5, 31) -> (0, 33) construction
  line L2 (8, 31) -> (1.5, 31) construction
  line L3 (10, 33) -> (8, 31) construction
  line L4 (10, 37.5) -> (10, 33) construction
  arc A1 (12, 39.5) -> (10, 37.5) centre (12, 37.5) ccw construction
  line L5 (10.3, 37.5) -> (10.3, 32.9)
  line L6 (-0.3, 32.9) -> (-0.3, 39.1)
  circle A2 centre (5, 36) radius 1.25
  line L7 (-0.3, 32.9) -> (10.3, 32.9)
  line L8 (5, 36) -> (-2.4761, 36) construction
  line L9 (-0.3, 39.1) -> (10.3, 39.1)
  line L10 (10.3, 37.5) -> (10.3, 39.1) construction
  line L11 (-1.8, 39.1) -> (-1.8, 32.9)
  line L12 (-0.3, 39.1) -> (-1.8, 39.1)
  line L13 (-0.3, 32.9) -> (-1.8, 32.9)
  line L14 (10.3, 39.1) -> (10.3, 37.5)
  line L15 (11.8, 39.1) -> (11.8, 32.9)
  line L16 (11.8, 32.9) -> (10.3, 32.9)
  line L17 (11.8, 39.1) -> (10.3, 39.1)
  line L18 (10.3, 37.5) -> (11.8, 37.5)
  line L19 (10, 37.5) -> (12, 37.5) construction
  dimension "d5" = 2.5
  dimension "d7" = 1.5
  dimension "d8" = 1.5
  dimension "d9" = 0.3
  dimension "d10" = 0.3
  dimension "d12" = 6.2
extrude "Extrude1" add sketch "base" along normal blind 1 contours A2 in component "U64_KeybExt_StandOff"
extrude "Extrude2" add sketch "base" along normal blind 16 contours L5 L6 L7 L9 L14 | L14 L15 L17 L18 in component "U64_KeybExt_StandOff"
extrude "Extrude3" add sketch "base" along normal blind 17.6 contours L5 L15 L16 L18 | L6 L11 L12 L13 in component "U64_KeybExt_StandOff"
fillet "Fillet1" radius 1 4 edges at (11.8, 39.1, 8) (-1.8, 39.1, 8.8) (-1.8, 32.9, 8.8) (11.8, 32.9, 8.8) in component "U64_KeybExt_StandOff"
fillet "Fillet2" radius 0.5 5 edges at (10.3, 37.5, 16.8) (10.3, 32.9, 16.8) (11.8, 37.5, 16.8) (-0.3, 39.1, 16.8) (-0.3, 32.9, 16.8) in component "U64_KeybExt_StandOff"
fillet "Fillet3" radius 0.2 13 edges at (-0.4464, 38.9536, 17.6) (-1.5071, 38.8071, 17.6) (-1.8, 36, 17.6) (-1.5071, 33.1929, 17.6) (-0.4464, 33.0464, 17.6) (-0.3, 36, 17.6) (11.6536, 37.3536, 17.6) (11.05, 37.5, 17.6) (10.4464, 37.3536, 17.6) (10.3, 35.2, 17.6) (10.4464, 33.0464, 17.6) (11.5071, 33.1929, 17.6) (11.8, 35.45, 17.6) in component "U64_KeybExt_StandOff"
fillet "Fillet4" radius 0.2 4 edges at (11.8, 37.55, 16) (11.5071, 38.8071, 16) (5, 39.1, 16) (5, 32.9, 16) in component "U64_KeybExt_StandOff"
component "PCB" placed x (1, 0, 0) y (0, 1, 0) z (0, 0, 1) at (0, 0, 0)
component "U64_KeybExt_StandOff" placed x (1, 0, 0) y (0, 1, 0) z (0, 0, 1) at (0, 0, 0)
equation "d1 = stand_off"
equation "stand_off = 16 mm"
equation "tol = 0.3 mm"
equation "d8 = d7"
equation "d9 = tol"
equation "d10 = tol"
equation "pcb_th = 1.6 mm"
equation "d16 = stand_off"
equation "d18 = stand_off + pcb_th"
equation "filet_out = 1 mm"
equation "d21 = filet_out"
equation "filet_in = 0.5 mm"
equation "d23 = filet_in"
